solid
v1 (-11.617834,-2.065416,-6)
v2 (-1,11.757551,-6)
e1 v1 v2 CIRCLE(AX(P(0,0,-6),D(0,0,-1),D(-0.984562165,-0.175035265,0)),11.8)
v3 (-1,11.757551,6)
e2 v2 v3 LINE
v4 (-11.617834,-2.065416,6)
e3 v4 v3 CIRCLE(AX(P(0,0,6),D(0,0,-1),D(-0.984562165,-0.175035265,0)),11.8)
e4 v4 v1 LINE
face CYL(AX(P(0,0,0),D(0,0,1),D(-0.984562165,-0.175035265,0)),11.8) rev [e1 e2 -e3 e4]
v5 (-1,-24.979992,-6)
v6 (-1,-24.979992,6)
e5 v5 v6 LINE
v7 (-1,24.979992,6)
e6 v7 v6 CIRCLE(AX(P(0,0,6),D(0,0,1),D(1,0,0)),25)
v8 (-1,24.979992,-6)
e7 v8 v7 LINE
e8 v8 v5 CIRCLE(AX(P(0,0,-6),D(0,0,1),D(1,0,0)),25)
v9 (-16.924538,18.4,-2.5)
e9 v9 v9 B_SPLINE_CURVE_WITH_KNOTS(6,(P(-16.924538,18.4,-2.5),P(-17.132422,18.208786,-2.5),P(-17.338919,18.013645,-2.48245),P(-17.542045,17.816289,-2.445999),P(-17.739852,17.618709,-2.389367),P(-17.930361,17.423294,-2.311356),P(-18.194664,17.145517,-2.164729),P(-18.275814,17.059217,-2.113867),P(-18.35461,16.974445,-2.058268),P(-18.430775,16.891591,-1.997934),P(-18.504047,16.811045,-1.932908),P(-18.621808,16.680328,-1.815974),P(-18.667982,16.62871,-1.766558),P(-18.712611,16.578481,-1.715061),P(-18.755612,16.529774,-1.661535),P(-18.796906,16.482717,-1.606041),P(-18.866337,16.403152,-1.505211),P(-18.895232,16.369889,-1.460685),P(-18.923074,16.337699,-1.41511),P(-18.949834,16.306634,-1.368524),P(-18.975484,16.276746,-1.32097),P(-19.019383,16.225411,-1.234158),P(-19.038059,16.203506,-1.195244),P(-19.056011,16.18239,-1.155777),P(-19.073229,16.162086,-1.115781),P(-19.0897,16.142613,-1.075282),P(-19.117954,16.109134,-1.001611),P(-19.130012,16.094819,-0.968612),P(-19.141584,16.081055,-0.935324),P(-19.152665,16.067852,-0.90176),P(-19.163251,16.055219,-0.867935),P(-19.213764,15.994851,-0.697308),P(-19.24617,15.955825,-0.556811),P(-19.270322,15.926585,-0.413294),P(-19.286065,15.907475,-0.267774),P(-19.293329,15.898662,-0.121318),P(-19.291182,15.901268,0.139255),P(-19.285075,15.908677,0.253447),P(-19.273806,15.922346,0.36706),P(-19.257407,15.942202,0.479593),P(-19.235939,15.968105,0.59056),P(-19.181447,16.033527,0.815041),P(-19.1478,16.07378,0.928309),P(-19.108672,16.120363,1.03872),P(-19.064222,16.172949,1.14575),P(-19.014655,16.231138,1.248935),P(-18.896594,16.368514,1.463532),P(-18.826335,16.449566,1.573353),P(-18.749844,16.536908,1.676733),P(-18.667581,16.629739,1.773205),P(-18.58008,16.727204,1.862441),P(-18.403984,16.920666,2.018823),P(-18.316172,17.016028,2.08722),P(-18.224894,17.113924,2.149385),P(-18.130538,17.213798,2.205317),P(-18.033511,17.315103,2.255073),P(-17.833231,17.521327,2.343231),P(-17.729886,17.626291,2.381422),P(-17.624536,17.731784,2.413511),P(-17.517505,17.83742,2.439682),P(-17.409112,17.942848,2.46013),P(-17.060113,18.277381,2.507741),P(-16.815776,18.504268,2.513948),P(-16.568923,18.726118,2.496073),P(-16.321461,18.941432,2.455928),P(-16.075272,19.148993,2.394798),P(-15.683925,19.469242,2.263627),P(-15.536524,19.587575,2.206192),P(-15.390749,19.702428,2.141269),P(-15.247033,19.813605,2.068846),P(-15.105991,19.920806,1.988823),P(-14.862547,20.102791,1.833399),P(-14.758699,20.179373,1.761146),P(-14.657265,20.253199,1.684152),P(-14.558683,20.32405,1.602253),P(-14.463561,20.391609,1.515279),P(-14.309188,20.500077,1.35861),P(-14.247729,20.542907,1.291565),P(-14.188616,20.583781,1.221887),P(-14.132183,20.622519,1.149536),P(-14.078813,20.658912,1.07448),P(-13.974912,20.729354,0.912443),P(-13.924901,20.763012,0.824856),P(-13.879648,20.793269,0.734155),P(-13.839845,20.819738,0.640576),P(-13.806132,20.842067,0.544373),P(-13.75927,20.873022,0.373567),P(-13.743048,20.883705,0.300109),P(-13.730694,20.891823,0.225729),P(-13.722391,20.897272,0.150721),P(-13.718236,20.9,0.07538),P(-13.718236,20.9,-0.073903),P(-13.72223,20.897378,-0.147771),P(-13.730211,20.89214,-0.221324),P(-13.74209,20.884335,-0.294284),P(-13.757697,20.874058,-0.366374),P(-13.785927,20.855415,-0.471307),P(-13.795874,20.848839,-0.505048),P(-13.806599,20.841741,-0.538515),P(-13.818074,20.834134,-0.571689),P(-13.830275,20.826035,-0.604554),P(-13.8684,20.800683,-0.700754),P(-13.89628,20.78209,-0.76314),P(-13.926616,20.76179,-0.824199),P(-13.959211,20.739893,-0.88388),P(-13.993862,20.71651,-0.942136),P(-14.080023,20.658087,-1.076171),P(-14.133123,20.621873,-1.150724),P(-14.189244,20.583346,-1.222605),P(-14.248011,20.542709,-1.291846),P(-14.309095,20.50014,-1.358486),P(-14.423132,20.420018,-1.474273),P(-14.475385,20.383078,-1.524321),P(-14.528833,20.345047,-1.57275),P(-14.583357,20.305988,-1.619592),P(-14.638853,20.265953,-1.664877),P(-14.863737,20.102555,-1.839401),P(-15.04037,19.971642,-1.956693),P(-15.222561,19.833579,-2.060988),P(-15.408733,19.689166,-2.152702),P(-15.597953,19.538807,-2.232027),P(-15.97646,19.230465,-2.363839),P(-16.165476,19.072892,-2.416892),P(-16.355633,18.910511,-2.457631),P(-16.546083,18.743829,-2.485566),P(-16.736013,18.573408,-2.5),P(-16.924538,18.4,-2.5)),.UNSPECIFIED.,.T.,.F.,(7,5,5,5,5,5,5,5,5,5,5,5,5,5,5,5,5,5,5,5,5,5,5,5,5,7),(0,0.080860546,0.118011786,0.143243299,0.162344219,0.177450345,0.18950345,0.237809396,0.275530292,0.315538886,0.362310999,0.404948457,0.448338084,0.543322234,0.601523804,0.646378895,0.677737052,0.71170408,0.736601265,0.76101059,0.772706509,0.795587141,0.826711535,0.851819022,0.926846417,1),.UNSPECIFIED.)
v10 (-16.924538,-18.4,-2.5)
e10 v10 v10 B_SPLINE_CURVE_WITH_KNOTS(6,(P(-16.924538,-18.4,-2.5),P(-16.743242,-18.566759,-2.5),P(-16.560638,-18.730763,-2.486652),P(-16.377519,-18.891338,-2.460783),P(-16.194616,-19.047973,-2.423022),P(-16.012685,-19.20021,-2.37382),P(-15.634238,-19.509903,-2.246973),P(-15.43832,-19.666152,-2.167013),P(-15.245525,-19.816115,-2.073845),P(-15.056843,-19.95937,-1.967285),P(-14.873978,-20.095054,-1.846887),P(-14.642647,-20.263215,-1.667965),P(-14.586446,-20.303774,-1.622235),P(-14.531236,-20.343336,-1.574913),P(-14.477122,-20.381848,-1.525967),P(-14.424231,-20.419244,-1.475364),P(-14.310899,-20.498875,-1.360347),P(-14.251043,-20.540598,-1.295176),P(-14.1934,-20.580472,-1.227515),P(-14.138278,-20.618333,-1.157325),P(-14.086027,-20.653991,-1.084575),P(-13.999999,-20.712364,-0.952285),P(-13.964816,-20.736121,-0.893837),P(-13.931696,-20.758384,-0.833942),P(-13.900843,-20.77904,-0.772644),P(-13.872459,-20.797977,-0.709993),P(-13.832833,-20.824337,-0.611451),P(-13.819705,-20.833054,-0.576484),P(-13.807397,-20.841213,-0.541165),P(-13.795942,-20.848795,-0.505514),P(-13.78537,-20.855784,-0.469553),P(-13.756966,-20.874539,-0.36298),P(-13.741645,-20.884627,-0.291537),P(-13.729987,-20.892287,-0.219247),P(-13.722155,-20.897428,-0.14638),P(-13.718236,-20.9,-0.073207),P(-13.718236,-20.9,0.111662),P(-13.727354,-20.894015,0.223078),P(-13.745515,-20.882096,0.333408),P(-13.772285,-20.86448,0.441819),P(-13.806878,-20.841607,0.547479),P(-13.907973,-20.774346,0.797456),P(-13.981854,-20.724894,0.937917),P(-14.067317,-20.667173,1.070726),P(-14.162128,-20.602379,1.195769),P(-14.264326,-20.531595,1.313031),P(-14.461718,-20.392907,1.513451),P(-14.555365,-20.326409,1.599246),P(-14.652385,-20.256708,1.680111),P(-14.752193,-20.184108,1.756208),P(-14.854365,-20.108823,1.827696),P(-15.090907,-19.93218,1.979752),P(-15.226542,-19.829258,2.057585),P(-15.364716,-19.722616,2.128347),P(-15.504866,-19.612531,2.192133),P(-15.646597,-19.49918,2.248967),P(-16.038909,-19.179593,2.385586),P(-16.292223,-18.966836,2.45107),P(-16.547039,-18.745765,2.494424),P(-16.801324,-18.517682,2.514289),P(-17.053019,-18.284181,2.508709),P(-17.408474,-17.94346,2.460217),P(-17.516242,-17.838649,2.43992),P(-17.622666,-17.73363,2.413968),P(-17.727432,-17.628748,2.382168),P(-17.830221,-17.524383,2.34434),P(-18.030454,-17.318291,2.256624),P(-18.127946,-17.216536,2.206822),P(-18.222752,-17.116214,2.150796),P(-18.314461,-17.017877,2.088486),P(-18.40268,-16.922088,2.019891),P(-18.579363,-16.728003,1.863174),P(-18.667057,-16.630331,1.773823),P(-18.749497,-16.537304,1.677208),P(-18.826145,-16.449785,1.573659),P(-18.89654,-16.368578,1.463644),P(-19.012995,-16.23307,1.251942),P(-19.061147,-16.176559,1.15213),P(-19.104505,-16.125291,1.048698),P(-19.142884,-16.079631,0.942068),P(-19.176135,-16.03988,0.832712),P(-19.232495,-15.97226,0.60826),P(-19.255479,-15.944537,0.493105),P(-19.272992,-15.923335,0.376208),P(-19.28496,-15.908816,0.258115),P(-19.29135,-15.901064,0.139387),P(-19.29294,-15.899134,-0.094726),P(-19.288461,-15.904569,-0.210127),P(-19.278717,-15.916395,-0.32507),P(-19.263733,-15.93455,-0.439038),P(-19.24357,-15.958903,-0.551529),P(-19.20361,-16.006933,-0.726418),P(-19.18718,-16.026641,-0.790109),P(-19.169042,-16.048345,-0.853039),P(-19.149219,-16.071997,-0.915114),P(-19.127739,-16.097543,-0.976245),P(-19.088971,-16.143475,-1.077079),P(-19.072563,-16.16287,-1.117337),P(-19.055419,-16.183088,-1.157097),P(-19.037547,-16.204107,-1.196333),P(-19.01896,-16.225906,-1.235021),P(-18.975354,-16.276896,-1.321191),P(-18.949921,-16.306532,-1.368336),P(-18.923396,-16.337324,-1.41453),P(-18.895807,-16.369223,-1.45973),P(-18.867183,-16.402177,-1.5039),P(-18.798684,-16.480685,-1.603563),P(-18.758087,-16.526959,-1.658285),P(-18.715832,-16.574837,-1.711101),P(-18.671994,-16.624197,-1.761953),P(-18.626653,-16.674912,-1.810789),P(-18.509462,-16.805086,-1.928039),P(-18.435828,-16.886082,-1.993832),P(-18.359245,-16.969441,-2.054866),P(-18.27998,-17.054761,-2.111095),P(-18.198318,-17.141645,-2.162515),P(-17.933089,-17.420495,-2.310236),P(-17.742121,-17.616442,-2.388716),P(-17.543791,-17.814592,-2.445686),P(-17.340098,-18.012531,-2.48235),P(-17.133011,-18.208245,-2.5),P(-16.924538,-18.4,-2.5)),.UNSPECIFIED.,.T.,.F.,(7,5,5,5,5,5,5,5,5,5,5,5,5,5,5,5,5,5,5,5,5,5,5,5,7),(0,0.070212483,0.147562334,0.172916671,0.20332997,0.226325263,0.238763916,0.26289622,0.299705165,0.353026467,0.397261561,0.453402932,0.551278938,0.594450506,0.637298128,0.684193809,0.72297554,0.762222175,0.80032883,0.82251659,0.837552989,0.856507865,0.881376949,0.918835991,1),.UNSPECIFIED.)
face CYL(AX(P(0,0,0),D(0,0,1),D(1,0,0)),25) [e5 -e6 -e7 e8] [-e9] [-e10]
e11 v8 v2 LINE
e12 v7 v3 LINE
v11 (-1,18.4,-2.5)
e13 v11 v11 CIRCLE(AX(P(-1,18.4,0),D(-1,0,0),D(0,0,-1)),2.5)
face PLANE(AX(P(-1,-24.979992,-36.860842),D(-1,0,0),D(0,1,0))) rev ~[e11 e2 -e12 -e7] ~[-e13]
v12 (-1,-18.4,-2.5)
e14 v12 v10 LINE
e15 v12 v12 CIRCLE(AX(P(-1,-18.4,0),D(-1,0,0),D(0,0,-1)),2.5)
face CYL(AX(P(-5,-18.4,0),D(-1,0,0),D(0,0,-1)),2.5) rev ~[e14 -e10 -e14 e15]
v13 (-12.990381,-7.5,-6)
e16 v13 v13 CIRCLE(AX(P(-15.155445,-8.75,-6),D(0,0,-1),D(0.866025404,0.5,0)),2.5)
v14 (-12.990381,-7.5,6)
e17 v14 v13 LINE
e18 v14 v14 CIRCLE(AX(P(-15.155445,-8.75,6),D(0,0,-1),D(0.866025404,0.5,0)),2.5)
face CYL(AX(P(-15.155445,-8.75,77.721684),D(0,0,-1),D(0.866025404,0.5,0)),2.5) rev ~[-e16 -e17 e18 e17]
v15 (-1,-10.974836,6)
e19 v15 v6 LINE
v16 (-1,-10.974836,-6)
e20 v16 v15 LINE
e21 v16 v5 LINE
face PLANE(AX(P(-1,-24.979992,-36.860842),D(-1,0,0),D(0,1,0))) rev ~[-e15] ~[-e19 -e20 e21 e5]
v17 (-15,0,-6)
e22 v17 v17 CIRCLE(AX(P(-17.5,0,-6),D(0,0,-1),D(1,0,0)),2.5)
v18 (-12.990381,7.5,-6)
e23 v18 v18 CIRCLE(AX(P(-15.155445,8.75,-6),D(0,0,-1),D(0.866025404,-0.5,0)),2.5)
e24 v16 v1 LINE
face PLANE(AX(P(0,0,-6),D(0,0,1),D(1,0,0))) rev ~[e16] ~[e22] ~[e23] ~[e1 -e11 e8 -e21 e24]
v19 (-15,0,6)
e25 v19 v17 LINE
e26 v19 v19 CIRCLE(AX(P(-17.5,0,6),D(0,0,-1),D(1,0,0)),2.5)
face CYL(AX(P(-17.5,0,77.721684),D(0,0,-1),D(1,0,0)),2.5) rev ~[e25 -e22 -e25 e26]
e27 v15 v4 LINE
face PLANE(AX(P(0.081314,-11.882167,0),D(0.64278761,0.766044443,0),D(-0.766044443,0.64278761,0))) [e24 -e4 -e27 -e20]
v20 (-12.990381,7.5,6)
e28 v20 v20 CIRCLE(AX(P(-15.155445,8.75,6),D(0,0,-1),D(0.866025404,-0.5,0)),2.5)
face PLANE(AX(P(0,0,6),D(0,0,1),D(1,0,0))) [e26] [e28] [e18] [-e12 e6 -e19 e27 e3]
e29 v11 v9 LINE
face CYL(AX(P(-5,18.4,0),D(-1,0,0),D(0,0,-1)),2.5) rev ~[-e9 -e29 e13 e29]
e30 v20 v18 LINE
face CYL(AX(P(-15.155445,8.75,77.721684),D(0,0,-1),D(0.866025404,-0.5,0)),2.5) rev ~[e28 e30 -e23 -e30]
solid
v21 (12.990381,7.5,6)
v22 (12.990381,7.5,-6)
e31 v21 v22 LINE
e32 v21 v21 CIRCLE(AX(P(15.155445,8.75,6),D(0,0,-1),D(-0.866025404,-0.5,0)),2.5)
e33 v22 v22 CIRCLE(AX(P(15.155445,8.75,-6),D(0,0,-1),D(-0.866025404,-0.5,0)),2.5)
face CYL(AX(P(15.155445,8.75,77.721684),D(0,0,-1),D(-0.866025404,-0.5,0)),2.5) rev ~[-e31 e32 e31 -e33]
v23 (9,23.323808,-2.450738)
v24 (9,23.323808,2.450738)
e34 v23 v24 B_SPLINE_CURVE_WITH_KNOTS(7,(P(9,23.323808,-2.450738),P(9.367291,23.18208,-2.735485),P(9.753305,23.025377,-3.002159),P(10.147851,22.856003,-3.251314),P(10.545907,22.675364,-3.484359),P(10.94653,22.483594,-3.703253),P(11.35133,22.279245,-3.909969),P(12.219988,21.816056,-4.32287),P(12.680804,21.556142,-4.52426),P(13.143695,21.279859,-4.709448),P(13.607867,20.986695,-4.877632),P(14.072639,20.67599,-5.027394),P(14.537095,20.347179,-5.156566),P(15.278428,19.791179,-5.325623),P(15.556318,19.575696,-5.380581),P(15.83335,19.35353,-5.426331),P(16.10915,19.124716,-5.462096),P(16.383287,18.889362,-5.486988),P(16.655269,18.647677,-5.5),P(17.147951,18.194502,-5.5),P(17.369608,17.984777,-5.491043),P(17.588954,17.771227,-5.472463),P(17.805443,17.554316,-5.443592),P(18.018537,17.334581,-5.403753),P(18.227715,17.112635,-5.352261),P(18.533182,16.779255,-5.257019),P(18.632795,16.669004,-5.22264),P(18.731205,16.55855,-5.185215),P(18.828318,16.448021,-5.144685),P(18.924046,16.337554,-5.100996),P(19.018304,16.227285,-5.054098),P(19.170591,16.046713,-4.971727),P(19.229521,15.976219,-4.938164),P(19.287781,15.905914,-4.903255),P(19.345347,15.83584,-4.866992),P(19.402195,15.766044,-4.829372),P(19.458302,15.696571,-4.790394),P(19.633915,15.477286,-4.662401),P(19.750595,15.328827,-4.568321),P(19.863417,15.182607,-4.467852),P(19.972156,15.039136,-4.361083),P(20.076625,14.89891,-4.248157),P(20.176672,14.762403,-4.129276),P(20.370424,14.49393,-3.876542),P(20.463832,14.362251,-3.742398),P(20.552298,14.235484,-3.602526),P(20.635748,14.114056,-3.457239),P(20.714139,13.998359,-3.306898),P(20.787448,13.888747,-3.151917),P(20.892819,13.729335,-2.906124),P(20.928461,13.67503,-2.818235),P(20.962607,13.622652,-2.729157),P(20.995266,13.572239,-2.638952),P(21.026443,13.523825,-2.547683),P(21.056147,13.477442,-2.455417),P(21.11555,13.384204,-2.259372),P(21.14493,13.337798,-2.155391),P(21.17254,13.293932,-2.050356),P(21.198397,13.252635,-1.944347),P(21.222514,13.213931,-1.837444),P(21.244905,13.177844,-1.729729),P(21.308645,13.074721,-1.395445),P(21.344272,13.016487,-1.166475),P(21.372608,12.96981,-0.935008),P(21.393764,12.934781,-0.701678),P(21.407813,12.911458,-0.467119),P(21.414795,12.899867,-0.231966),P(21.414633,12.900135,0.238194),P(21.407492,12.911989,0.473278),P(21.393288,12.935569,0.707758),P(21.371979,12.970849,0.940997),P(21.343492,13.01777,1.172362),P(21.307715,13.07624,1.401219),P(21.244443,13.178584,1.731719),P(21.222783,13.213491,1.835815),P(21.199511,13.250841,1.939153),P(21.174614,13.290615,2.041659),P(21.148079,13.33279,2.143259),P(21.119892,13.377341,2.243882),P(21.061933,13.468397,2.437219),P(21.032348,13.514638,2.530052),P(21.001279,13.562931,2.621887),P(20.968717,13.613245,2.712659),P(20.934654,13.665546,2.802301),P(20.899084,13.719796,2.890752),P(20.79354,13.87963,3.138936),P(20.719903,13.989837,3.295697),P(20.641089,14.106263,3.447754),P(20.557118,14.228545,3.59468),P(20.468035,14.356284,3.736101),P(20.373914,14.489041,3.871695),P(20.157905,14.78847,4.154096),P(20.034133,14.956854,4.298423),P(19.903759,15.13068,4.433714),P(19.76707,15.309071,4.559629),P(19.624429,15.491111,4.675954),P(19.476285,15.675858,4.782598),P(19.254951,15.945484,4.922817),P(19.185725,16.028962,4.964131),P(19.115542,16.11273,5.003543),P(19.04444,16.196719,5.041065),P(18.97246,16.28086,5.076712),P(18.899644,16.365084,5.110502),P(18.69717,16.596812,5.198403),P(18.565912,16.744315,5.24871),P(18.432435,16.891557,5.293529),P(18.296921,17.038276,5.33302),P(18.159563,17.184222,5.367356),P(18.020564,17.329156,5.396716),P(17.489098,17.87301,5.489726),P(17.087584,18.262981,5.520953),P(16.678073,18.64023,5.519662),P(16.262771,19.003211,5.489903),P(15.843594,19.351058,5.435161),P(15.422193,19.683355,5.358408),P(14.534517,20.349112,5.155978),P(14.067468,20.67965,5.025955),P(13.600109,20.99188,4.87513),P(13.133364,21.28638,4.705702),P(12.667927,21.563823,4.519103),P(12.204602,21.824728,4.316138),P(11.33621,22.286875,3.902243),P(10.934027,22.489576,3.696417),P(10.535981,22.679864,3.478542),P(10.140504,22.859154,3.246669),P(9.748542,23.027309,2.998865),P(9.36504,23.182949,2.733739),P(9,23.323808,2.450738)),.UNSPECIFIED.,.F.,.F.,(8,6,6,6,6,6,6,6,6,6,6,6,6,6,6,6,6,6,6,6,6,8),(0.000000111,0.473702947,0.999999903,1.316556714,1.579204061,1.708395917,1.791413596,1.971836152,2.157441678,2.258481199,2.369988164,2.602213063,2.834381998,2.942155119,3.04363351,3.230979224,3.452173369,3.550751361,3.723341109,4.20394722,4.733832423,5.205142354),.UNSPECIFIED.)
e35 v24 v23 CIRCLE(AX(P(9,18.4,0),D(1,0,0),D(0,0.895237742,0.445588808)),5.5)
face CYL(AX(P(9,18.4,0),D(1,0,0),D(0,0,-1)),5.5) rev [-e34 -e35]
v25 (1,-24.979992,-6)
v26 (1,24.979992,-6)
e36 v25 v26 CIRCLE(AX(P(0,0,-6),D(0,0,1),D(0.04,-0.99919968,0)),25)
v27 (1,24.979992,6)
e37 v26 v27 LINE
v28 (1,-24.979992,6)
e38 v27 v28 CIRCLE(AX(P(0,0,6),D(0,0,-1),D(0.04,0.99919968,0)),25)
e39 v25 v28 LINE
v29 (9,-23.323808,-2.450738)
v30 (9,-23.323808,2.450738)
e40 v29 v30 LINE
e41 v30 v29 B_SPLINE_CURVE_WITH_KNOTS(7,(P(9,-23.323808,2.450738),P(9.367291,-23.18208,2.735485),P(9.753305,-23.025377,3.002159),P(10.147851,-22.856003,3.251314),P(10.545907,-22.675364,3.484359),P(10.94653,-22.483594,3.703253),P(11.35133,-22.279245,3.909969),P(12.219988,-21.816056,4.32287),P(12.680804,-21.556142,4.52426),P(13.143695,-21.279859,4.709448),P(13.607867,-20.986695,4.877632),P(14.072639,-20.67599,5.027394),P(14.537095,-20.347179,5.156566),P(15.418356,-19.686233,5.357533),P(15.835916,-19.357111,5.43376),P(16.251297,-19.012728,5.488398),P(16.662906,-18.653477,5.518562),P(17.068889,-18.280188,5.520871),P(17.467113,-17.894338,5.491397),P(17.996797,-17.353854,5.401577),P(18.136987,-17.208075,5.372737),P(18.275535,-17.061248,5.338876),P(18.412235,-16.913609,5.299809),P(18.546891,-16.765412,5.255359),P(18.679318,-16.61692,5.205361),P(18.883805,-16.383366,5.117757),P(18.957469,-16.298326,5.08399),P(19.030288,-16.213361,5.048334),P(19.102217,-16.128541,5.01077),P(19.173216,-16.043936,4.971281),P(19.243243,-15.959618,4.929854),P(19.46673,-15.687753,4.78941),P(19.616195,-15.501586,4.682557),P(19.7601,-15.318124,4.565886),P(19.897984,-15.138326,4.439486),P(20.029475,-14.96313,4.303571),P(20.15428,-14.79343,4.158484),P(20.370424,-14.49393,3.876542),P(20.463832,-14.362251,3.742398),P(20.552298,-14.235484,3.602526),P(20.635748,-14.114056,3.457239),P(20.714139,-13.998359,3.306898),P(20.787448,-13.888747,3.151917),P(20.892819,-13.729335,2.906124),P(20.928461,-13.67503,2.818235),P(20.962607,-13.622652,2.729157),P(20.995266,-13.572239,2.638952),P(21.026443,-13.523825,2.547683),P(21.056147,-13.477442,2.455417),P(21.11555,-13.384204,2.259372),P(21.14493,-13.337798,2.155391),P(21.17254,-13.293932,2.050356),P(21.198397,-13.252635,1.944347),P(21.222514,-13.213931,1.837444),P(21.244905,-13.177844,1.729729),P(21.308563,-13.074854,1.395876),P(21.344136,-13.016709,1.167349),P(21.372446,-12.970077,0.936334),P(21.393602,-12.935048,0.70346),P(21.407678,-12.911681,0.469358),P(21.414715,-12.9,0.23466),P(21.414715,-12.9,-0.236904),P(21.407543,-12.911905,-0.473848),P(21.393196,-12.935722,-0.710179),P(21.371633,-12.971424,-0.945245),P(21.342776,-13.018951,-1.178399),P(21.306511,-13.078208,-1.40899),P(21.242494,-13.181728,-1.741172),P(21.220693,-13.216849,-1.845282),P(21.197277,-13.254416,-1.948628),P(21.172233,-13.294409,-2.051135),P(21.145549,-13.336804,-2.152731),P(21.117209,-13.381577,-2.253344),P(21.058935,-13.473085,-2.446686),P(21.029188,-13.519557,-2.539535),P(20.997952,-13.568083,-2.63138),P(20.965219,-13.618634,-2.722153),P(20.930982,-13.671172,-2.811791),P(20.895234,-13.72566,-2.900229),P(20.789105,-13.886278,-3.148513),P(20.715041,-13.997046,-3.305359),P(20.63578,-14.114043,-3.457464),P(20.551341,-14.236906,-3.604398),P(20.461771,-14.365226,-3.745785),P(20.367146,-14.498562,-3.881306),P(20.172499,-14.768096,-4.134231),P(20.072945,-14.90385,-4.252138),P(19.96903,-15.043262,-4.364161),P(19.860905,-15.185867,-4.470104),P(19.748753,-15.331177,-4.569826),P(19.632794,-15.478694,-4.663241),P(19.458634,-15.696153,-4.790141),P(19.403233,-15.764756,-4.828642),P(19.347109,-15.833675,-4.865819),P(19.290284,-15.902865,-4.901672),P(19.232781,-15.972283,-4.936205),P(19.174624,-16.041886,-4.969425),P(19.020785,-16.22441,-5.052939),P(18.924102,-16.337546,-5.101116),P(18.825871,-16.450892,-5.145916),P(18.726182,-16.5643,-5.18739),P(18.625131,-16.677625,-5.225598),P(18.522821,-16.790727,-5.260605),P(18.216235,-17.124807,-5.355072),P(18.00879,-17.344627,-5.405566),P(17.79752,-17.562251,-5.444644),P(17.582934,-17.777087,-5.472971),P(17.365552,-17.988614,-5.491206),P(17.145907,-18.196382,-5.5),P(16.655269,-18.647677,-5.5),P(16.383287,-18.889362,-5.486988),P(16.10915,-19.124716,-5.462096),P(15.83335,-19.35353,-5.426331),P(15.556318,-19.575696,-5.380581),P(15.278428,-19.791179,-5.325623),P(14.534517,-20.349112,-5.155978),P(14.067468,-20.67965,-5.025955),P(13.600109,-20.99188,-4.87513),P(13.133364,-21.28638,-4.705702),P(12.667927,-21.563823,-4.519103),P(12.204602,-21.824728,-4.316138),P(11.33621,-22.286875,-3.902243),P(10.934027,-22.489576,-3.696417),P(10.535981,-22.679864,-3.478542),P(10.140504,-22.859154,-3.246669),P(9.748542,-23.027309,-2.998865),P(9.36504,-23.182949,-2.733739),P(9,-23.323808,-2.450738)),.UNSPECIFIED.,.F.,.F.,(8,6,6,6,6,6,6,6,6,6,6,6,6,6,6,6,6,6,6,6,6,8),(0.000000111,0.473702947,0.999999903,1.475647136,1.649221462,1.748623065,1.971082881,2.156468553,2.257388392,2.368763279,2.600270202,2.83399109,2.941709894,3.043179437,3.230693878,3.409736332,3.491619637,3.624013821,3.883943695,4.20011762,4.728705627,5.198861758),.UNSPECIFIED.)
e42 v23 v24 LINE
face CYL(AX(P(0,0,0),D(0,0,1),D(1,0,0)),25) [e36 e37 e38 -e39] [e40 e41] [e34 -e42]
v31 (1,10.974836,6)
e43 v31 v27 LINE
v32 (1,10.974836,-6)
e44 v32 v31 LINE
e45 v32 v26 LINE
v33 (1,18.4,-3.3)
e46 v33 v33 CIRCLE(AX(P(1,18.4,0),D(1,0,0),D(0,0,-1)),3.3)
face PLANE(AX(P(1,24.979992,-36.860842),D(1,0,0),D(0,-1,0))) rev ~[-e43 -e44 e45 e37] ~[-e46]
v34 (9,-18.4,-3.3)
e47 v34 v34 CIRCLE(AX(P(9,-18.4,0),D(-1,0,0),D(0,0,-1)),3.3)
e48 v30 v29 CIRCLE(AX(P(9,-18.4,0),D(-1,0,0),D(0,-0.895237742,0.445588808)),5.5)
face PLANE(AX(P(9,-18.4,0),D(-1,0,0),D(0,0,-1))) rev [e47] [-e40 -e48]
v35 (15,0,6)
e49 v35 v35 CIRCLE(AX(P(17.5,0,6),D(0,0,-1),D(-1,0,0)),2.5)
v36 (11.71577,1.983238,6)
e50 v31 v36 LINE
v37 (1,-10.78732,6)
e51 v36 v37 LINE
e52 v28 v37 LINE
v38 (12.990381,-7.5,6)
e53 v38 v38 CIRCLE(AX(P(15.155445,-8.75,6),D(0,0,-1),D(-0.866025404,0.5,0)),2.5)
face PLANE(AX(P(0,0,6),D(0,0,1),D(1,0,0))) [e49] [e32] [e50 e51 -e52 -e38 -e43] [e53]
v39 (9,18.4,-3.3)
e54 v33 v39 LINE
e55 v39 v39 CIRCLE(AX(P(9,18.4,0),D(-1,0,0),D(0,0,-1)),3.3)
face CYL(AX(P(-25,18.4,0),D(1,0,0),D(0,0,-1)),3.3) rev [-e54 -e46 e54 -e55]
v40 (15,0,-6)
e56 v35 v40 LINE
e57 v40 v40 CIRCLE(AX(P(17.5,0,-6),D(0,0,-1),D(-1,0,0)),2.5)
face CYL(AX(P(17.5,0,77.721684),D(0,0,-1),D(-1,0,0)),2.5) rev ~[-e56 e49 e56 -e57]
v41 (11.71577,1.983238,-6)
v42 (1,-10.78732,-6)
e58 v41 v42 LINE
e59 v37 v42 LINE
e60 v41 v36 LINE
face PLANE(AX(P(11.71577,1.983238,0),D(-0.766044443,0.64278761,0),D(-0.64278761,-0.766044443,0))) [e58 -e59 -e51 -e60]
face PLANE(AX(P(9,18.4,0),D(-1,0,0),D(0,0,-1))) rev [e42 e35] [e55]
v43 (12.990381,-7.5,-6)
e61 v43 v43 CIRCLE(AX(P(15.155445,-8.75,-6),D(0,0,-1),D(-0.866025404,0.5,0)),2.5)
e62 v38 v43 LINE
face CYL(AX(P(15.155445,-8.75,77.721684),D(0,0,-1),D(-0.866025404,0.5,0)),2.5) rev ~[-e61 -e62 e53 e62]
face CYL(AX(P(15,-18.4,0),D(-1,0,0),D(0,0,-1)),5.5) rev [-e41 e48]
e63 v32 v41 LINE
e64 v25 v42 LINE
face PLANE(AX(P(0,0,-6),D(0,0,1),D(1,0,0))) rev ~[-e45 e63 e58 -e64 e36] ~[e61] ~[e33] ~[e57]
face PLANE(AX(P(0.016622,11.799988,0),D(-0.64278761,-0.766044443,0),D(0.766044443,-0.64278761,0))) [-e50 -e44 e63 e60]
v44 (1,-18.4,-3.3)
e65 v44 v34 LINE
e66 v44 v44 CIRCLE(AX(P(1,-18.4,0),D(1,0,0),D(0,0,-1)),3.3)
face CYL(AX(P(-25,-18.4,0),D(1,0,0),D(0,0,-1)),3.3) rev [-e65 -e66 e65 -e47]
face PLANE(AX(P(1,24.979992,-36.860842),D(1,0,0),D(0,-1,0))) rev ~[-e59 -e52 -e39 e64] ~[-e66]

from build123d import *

# Parameters (mm, degrees)
SKETCH_7_R                  = 25
EXTRUDE_1_DEPTH             = 6
M6X1_0_1_D                  = 5
PATTERN_CIRCULAR_2_COUNT    = 12
CUT_EXTRUDE_1_DEPTH         = 36.860842154
CUT_EXTRUDE_1_DEPTH_BACK    = 36.860842154
HOLE_WIZARD_M6_1_AT_2_COUNT = 2
HOLE_WIZARD_M6_1_AT_2_PITCH = 36.8
SKETCH_29_W                 = 2.5
SKETCH_29_H                 = 40
M6X1_0_3_AT_2_COUNT         = 2
M6X1_0_3_AT_2_PITCH         = 36.8
SKETCH_30_R                 = 5.5
CUT_EXTRUDE_2_DEPTH         = 48.539457445


with BuildPart() as part:
    # 스케치7 → 보스-돌출1 (new, symmetric)
    with BuildSketch(Plane.XY):
        Circle(SKETCH_7_R)
        with BuildLine():
            Line((11.71577008, 1.983237616), (0.081314344, -11.882166805))
            Line((0.081314344, -11.882166805), (-11.617833542, -2.065416128))
            ThreePointArc((-11.617833542, -2.065416128), (-9.039324429, 7.584893794), (0.016622193, 11.799988292))
            Line((0.016622193, 11.799988292), (11.71577008, 1.983237616))
        make_face(mode=Mode.SUBTRACT)
    extrude(amount=EXTRUDE_1_DEPTH, both=True)

    # M6x1.0 나사 구멍1 (through all)
    with Locations(Plane.XY.offset(6)):
        with Locations((17.5, 0)):
            m6x1_0_1 = Hole(M6X1_0_1_D / 2)

    # 원형 패턴2: M6x1.0 나사 구멍1 ×12 about axis, 6 skipped
    pattern_circular_2_axis = Axis((0, 0, 0), (0, 0, -1))
    add([m6x1_0_1.rotate(pattern_circular_2_axis, i * 360 / PATTERN_CIRCULAR_2_COUNT) for i in range(1, PATTERN_CIRCULAR_2_COUNT) if i not in (2, 3, 4, 8, 9, 10)], mode=Mode.SUBTRACT)

    # 스케치19 → 컷-돌출1 (cut, two sides: drawn at the far end of the back side and taken through both)
    with BuildSketch(Plane.XY.offset(-CUT_EXTRUDE_1_DEPTH_BACK)):
        with BuildLine():
            Line((1, 24.979991994), (1, -24.979991994))
            ThreePointArc((1, -24.979991994), (0, -25), (-1, -24.979991994))
            Line((-1, -24.979991994), (-1, 24.979991994))
            ThreePointArc((-1, 24.979991994), (0, 25), (1, 24.979991994))
        make_face()
    extrude(amount=CUT_EXTRUDE_1_DEPTH + CUT_EXTRUDE_1_DEPTH_BACK, mode=Mode.SUBTRACT)


with BuildPart() as cut_extrude_1_piece_1:
    # of the separate pieces the step leaves, piece 1, a body of its own (cut_extrude_1_pieces)
    add(part.part.solids().sort_by_distance((1, 24.979991994, 6))[0])

    # 스케치23 → M6 소켓 머리 캡 나사용 카운터보어1 (revolve, cut)
    with BuildSketch(Plane(origin=(15, 18.4, 0), x_dir=(0, 0, -1), z_dir=(0, 1, 0))):
        Polygon((0, 0), (0, 40), (3.3, 40), (3.3, 6), (5.5, 6), (5.5, 0), align=None)
    hole_wizard_m6_1 = revolve(axis=Axis((21.35, 18.4, 0), (-1, 0, 0)), mode=Mode.SUBTRACT)

    # M6 소켓 머리 캡 나사용 카운터보어1 at 2: M6 소켓 머리 캡 나사용 카운터보어1 ×2
    with Locations(*[(0, -i * HOLE_WIZARD_M6_1_AT_2_PITCH, 0) for i in range(1, HOLE_WIZARD_M6_1_AT_2_COUNT)]):
        add(hole_wizard_m6_1, mode=Mode.SUBTRACT)

    # 스케치30 → 컷-돌출2 (cut, through all)
    with BuildSketch(Plane(origin=(15, 0, 0), x_dir=(0, 0, -1), z_dir=(1, 0, 0))):
        with Locations((0, 18.4)):
            Circle(SKETCH_30_R)
        with Locations((0, -18.4)):
            Circle(SKETCH_30_R)
    extrude(amount=CUT_EXTRUDE_2_DEPTH, mode=Mode.SUBTRACT)


with BuildPart() as cut_extrude_1_piece_2:
    # of the separate pieces the step leaves, piece 2, a body of its own (cut_extrude_1_pieces)
    add(part.part.solids().sort_by_distance((-1, 24.979991994, -6))[0])

    # 스케치29 → M6x1.0 나사 구멍3 (revolve, cut)
    with BuildSketch(Plane(origin=(15, 18.4, 0), x_dir=(0, 0, -1), z_dir=(0, 1, 0))):
        with Locations((1.25, 20)):
            Rectangle(SKETCH_29_W, SKETCH_29_H)
    m6x1_0_3 = revolve(axis=Axis((21.35, 18.4, 0), (-1, 0, 0)), mode=Mode.SUBTRACT)

    # M6x1.0 나사 구멍3 at 2: M6x1.0 나사 구멍3 ×2
    with Locations(*[(0, -i * M6X1_0_3_AT_2_PITCH, 0) for i in range(1, M6X1_0_3_AT_2_COUNT)]):
        add(m6x1_0_3, mode=Mode.SUBTRACT)


solid = Compound([cut_extrude_1_piece_1.part, cut_extrude_1_piece_2.part])
